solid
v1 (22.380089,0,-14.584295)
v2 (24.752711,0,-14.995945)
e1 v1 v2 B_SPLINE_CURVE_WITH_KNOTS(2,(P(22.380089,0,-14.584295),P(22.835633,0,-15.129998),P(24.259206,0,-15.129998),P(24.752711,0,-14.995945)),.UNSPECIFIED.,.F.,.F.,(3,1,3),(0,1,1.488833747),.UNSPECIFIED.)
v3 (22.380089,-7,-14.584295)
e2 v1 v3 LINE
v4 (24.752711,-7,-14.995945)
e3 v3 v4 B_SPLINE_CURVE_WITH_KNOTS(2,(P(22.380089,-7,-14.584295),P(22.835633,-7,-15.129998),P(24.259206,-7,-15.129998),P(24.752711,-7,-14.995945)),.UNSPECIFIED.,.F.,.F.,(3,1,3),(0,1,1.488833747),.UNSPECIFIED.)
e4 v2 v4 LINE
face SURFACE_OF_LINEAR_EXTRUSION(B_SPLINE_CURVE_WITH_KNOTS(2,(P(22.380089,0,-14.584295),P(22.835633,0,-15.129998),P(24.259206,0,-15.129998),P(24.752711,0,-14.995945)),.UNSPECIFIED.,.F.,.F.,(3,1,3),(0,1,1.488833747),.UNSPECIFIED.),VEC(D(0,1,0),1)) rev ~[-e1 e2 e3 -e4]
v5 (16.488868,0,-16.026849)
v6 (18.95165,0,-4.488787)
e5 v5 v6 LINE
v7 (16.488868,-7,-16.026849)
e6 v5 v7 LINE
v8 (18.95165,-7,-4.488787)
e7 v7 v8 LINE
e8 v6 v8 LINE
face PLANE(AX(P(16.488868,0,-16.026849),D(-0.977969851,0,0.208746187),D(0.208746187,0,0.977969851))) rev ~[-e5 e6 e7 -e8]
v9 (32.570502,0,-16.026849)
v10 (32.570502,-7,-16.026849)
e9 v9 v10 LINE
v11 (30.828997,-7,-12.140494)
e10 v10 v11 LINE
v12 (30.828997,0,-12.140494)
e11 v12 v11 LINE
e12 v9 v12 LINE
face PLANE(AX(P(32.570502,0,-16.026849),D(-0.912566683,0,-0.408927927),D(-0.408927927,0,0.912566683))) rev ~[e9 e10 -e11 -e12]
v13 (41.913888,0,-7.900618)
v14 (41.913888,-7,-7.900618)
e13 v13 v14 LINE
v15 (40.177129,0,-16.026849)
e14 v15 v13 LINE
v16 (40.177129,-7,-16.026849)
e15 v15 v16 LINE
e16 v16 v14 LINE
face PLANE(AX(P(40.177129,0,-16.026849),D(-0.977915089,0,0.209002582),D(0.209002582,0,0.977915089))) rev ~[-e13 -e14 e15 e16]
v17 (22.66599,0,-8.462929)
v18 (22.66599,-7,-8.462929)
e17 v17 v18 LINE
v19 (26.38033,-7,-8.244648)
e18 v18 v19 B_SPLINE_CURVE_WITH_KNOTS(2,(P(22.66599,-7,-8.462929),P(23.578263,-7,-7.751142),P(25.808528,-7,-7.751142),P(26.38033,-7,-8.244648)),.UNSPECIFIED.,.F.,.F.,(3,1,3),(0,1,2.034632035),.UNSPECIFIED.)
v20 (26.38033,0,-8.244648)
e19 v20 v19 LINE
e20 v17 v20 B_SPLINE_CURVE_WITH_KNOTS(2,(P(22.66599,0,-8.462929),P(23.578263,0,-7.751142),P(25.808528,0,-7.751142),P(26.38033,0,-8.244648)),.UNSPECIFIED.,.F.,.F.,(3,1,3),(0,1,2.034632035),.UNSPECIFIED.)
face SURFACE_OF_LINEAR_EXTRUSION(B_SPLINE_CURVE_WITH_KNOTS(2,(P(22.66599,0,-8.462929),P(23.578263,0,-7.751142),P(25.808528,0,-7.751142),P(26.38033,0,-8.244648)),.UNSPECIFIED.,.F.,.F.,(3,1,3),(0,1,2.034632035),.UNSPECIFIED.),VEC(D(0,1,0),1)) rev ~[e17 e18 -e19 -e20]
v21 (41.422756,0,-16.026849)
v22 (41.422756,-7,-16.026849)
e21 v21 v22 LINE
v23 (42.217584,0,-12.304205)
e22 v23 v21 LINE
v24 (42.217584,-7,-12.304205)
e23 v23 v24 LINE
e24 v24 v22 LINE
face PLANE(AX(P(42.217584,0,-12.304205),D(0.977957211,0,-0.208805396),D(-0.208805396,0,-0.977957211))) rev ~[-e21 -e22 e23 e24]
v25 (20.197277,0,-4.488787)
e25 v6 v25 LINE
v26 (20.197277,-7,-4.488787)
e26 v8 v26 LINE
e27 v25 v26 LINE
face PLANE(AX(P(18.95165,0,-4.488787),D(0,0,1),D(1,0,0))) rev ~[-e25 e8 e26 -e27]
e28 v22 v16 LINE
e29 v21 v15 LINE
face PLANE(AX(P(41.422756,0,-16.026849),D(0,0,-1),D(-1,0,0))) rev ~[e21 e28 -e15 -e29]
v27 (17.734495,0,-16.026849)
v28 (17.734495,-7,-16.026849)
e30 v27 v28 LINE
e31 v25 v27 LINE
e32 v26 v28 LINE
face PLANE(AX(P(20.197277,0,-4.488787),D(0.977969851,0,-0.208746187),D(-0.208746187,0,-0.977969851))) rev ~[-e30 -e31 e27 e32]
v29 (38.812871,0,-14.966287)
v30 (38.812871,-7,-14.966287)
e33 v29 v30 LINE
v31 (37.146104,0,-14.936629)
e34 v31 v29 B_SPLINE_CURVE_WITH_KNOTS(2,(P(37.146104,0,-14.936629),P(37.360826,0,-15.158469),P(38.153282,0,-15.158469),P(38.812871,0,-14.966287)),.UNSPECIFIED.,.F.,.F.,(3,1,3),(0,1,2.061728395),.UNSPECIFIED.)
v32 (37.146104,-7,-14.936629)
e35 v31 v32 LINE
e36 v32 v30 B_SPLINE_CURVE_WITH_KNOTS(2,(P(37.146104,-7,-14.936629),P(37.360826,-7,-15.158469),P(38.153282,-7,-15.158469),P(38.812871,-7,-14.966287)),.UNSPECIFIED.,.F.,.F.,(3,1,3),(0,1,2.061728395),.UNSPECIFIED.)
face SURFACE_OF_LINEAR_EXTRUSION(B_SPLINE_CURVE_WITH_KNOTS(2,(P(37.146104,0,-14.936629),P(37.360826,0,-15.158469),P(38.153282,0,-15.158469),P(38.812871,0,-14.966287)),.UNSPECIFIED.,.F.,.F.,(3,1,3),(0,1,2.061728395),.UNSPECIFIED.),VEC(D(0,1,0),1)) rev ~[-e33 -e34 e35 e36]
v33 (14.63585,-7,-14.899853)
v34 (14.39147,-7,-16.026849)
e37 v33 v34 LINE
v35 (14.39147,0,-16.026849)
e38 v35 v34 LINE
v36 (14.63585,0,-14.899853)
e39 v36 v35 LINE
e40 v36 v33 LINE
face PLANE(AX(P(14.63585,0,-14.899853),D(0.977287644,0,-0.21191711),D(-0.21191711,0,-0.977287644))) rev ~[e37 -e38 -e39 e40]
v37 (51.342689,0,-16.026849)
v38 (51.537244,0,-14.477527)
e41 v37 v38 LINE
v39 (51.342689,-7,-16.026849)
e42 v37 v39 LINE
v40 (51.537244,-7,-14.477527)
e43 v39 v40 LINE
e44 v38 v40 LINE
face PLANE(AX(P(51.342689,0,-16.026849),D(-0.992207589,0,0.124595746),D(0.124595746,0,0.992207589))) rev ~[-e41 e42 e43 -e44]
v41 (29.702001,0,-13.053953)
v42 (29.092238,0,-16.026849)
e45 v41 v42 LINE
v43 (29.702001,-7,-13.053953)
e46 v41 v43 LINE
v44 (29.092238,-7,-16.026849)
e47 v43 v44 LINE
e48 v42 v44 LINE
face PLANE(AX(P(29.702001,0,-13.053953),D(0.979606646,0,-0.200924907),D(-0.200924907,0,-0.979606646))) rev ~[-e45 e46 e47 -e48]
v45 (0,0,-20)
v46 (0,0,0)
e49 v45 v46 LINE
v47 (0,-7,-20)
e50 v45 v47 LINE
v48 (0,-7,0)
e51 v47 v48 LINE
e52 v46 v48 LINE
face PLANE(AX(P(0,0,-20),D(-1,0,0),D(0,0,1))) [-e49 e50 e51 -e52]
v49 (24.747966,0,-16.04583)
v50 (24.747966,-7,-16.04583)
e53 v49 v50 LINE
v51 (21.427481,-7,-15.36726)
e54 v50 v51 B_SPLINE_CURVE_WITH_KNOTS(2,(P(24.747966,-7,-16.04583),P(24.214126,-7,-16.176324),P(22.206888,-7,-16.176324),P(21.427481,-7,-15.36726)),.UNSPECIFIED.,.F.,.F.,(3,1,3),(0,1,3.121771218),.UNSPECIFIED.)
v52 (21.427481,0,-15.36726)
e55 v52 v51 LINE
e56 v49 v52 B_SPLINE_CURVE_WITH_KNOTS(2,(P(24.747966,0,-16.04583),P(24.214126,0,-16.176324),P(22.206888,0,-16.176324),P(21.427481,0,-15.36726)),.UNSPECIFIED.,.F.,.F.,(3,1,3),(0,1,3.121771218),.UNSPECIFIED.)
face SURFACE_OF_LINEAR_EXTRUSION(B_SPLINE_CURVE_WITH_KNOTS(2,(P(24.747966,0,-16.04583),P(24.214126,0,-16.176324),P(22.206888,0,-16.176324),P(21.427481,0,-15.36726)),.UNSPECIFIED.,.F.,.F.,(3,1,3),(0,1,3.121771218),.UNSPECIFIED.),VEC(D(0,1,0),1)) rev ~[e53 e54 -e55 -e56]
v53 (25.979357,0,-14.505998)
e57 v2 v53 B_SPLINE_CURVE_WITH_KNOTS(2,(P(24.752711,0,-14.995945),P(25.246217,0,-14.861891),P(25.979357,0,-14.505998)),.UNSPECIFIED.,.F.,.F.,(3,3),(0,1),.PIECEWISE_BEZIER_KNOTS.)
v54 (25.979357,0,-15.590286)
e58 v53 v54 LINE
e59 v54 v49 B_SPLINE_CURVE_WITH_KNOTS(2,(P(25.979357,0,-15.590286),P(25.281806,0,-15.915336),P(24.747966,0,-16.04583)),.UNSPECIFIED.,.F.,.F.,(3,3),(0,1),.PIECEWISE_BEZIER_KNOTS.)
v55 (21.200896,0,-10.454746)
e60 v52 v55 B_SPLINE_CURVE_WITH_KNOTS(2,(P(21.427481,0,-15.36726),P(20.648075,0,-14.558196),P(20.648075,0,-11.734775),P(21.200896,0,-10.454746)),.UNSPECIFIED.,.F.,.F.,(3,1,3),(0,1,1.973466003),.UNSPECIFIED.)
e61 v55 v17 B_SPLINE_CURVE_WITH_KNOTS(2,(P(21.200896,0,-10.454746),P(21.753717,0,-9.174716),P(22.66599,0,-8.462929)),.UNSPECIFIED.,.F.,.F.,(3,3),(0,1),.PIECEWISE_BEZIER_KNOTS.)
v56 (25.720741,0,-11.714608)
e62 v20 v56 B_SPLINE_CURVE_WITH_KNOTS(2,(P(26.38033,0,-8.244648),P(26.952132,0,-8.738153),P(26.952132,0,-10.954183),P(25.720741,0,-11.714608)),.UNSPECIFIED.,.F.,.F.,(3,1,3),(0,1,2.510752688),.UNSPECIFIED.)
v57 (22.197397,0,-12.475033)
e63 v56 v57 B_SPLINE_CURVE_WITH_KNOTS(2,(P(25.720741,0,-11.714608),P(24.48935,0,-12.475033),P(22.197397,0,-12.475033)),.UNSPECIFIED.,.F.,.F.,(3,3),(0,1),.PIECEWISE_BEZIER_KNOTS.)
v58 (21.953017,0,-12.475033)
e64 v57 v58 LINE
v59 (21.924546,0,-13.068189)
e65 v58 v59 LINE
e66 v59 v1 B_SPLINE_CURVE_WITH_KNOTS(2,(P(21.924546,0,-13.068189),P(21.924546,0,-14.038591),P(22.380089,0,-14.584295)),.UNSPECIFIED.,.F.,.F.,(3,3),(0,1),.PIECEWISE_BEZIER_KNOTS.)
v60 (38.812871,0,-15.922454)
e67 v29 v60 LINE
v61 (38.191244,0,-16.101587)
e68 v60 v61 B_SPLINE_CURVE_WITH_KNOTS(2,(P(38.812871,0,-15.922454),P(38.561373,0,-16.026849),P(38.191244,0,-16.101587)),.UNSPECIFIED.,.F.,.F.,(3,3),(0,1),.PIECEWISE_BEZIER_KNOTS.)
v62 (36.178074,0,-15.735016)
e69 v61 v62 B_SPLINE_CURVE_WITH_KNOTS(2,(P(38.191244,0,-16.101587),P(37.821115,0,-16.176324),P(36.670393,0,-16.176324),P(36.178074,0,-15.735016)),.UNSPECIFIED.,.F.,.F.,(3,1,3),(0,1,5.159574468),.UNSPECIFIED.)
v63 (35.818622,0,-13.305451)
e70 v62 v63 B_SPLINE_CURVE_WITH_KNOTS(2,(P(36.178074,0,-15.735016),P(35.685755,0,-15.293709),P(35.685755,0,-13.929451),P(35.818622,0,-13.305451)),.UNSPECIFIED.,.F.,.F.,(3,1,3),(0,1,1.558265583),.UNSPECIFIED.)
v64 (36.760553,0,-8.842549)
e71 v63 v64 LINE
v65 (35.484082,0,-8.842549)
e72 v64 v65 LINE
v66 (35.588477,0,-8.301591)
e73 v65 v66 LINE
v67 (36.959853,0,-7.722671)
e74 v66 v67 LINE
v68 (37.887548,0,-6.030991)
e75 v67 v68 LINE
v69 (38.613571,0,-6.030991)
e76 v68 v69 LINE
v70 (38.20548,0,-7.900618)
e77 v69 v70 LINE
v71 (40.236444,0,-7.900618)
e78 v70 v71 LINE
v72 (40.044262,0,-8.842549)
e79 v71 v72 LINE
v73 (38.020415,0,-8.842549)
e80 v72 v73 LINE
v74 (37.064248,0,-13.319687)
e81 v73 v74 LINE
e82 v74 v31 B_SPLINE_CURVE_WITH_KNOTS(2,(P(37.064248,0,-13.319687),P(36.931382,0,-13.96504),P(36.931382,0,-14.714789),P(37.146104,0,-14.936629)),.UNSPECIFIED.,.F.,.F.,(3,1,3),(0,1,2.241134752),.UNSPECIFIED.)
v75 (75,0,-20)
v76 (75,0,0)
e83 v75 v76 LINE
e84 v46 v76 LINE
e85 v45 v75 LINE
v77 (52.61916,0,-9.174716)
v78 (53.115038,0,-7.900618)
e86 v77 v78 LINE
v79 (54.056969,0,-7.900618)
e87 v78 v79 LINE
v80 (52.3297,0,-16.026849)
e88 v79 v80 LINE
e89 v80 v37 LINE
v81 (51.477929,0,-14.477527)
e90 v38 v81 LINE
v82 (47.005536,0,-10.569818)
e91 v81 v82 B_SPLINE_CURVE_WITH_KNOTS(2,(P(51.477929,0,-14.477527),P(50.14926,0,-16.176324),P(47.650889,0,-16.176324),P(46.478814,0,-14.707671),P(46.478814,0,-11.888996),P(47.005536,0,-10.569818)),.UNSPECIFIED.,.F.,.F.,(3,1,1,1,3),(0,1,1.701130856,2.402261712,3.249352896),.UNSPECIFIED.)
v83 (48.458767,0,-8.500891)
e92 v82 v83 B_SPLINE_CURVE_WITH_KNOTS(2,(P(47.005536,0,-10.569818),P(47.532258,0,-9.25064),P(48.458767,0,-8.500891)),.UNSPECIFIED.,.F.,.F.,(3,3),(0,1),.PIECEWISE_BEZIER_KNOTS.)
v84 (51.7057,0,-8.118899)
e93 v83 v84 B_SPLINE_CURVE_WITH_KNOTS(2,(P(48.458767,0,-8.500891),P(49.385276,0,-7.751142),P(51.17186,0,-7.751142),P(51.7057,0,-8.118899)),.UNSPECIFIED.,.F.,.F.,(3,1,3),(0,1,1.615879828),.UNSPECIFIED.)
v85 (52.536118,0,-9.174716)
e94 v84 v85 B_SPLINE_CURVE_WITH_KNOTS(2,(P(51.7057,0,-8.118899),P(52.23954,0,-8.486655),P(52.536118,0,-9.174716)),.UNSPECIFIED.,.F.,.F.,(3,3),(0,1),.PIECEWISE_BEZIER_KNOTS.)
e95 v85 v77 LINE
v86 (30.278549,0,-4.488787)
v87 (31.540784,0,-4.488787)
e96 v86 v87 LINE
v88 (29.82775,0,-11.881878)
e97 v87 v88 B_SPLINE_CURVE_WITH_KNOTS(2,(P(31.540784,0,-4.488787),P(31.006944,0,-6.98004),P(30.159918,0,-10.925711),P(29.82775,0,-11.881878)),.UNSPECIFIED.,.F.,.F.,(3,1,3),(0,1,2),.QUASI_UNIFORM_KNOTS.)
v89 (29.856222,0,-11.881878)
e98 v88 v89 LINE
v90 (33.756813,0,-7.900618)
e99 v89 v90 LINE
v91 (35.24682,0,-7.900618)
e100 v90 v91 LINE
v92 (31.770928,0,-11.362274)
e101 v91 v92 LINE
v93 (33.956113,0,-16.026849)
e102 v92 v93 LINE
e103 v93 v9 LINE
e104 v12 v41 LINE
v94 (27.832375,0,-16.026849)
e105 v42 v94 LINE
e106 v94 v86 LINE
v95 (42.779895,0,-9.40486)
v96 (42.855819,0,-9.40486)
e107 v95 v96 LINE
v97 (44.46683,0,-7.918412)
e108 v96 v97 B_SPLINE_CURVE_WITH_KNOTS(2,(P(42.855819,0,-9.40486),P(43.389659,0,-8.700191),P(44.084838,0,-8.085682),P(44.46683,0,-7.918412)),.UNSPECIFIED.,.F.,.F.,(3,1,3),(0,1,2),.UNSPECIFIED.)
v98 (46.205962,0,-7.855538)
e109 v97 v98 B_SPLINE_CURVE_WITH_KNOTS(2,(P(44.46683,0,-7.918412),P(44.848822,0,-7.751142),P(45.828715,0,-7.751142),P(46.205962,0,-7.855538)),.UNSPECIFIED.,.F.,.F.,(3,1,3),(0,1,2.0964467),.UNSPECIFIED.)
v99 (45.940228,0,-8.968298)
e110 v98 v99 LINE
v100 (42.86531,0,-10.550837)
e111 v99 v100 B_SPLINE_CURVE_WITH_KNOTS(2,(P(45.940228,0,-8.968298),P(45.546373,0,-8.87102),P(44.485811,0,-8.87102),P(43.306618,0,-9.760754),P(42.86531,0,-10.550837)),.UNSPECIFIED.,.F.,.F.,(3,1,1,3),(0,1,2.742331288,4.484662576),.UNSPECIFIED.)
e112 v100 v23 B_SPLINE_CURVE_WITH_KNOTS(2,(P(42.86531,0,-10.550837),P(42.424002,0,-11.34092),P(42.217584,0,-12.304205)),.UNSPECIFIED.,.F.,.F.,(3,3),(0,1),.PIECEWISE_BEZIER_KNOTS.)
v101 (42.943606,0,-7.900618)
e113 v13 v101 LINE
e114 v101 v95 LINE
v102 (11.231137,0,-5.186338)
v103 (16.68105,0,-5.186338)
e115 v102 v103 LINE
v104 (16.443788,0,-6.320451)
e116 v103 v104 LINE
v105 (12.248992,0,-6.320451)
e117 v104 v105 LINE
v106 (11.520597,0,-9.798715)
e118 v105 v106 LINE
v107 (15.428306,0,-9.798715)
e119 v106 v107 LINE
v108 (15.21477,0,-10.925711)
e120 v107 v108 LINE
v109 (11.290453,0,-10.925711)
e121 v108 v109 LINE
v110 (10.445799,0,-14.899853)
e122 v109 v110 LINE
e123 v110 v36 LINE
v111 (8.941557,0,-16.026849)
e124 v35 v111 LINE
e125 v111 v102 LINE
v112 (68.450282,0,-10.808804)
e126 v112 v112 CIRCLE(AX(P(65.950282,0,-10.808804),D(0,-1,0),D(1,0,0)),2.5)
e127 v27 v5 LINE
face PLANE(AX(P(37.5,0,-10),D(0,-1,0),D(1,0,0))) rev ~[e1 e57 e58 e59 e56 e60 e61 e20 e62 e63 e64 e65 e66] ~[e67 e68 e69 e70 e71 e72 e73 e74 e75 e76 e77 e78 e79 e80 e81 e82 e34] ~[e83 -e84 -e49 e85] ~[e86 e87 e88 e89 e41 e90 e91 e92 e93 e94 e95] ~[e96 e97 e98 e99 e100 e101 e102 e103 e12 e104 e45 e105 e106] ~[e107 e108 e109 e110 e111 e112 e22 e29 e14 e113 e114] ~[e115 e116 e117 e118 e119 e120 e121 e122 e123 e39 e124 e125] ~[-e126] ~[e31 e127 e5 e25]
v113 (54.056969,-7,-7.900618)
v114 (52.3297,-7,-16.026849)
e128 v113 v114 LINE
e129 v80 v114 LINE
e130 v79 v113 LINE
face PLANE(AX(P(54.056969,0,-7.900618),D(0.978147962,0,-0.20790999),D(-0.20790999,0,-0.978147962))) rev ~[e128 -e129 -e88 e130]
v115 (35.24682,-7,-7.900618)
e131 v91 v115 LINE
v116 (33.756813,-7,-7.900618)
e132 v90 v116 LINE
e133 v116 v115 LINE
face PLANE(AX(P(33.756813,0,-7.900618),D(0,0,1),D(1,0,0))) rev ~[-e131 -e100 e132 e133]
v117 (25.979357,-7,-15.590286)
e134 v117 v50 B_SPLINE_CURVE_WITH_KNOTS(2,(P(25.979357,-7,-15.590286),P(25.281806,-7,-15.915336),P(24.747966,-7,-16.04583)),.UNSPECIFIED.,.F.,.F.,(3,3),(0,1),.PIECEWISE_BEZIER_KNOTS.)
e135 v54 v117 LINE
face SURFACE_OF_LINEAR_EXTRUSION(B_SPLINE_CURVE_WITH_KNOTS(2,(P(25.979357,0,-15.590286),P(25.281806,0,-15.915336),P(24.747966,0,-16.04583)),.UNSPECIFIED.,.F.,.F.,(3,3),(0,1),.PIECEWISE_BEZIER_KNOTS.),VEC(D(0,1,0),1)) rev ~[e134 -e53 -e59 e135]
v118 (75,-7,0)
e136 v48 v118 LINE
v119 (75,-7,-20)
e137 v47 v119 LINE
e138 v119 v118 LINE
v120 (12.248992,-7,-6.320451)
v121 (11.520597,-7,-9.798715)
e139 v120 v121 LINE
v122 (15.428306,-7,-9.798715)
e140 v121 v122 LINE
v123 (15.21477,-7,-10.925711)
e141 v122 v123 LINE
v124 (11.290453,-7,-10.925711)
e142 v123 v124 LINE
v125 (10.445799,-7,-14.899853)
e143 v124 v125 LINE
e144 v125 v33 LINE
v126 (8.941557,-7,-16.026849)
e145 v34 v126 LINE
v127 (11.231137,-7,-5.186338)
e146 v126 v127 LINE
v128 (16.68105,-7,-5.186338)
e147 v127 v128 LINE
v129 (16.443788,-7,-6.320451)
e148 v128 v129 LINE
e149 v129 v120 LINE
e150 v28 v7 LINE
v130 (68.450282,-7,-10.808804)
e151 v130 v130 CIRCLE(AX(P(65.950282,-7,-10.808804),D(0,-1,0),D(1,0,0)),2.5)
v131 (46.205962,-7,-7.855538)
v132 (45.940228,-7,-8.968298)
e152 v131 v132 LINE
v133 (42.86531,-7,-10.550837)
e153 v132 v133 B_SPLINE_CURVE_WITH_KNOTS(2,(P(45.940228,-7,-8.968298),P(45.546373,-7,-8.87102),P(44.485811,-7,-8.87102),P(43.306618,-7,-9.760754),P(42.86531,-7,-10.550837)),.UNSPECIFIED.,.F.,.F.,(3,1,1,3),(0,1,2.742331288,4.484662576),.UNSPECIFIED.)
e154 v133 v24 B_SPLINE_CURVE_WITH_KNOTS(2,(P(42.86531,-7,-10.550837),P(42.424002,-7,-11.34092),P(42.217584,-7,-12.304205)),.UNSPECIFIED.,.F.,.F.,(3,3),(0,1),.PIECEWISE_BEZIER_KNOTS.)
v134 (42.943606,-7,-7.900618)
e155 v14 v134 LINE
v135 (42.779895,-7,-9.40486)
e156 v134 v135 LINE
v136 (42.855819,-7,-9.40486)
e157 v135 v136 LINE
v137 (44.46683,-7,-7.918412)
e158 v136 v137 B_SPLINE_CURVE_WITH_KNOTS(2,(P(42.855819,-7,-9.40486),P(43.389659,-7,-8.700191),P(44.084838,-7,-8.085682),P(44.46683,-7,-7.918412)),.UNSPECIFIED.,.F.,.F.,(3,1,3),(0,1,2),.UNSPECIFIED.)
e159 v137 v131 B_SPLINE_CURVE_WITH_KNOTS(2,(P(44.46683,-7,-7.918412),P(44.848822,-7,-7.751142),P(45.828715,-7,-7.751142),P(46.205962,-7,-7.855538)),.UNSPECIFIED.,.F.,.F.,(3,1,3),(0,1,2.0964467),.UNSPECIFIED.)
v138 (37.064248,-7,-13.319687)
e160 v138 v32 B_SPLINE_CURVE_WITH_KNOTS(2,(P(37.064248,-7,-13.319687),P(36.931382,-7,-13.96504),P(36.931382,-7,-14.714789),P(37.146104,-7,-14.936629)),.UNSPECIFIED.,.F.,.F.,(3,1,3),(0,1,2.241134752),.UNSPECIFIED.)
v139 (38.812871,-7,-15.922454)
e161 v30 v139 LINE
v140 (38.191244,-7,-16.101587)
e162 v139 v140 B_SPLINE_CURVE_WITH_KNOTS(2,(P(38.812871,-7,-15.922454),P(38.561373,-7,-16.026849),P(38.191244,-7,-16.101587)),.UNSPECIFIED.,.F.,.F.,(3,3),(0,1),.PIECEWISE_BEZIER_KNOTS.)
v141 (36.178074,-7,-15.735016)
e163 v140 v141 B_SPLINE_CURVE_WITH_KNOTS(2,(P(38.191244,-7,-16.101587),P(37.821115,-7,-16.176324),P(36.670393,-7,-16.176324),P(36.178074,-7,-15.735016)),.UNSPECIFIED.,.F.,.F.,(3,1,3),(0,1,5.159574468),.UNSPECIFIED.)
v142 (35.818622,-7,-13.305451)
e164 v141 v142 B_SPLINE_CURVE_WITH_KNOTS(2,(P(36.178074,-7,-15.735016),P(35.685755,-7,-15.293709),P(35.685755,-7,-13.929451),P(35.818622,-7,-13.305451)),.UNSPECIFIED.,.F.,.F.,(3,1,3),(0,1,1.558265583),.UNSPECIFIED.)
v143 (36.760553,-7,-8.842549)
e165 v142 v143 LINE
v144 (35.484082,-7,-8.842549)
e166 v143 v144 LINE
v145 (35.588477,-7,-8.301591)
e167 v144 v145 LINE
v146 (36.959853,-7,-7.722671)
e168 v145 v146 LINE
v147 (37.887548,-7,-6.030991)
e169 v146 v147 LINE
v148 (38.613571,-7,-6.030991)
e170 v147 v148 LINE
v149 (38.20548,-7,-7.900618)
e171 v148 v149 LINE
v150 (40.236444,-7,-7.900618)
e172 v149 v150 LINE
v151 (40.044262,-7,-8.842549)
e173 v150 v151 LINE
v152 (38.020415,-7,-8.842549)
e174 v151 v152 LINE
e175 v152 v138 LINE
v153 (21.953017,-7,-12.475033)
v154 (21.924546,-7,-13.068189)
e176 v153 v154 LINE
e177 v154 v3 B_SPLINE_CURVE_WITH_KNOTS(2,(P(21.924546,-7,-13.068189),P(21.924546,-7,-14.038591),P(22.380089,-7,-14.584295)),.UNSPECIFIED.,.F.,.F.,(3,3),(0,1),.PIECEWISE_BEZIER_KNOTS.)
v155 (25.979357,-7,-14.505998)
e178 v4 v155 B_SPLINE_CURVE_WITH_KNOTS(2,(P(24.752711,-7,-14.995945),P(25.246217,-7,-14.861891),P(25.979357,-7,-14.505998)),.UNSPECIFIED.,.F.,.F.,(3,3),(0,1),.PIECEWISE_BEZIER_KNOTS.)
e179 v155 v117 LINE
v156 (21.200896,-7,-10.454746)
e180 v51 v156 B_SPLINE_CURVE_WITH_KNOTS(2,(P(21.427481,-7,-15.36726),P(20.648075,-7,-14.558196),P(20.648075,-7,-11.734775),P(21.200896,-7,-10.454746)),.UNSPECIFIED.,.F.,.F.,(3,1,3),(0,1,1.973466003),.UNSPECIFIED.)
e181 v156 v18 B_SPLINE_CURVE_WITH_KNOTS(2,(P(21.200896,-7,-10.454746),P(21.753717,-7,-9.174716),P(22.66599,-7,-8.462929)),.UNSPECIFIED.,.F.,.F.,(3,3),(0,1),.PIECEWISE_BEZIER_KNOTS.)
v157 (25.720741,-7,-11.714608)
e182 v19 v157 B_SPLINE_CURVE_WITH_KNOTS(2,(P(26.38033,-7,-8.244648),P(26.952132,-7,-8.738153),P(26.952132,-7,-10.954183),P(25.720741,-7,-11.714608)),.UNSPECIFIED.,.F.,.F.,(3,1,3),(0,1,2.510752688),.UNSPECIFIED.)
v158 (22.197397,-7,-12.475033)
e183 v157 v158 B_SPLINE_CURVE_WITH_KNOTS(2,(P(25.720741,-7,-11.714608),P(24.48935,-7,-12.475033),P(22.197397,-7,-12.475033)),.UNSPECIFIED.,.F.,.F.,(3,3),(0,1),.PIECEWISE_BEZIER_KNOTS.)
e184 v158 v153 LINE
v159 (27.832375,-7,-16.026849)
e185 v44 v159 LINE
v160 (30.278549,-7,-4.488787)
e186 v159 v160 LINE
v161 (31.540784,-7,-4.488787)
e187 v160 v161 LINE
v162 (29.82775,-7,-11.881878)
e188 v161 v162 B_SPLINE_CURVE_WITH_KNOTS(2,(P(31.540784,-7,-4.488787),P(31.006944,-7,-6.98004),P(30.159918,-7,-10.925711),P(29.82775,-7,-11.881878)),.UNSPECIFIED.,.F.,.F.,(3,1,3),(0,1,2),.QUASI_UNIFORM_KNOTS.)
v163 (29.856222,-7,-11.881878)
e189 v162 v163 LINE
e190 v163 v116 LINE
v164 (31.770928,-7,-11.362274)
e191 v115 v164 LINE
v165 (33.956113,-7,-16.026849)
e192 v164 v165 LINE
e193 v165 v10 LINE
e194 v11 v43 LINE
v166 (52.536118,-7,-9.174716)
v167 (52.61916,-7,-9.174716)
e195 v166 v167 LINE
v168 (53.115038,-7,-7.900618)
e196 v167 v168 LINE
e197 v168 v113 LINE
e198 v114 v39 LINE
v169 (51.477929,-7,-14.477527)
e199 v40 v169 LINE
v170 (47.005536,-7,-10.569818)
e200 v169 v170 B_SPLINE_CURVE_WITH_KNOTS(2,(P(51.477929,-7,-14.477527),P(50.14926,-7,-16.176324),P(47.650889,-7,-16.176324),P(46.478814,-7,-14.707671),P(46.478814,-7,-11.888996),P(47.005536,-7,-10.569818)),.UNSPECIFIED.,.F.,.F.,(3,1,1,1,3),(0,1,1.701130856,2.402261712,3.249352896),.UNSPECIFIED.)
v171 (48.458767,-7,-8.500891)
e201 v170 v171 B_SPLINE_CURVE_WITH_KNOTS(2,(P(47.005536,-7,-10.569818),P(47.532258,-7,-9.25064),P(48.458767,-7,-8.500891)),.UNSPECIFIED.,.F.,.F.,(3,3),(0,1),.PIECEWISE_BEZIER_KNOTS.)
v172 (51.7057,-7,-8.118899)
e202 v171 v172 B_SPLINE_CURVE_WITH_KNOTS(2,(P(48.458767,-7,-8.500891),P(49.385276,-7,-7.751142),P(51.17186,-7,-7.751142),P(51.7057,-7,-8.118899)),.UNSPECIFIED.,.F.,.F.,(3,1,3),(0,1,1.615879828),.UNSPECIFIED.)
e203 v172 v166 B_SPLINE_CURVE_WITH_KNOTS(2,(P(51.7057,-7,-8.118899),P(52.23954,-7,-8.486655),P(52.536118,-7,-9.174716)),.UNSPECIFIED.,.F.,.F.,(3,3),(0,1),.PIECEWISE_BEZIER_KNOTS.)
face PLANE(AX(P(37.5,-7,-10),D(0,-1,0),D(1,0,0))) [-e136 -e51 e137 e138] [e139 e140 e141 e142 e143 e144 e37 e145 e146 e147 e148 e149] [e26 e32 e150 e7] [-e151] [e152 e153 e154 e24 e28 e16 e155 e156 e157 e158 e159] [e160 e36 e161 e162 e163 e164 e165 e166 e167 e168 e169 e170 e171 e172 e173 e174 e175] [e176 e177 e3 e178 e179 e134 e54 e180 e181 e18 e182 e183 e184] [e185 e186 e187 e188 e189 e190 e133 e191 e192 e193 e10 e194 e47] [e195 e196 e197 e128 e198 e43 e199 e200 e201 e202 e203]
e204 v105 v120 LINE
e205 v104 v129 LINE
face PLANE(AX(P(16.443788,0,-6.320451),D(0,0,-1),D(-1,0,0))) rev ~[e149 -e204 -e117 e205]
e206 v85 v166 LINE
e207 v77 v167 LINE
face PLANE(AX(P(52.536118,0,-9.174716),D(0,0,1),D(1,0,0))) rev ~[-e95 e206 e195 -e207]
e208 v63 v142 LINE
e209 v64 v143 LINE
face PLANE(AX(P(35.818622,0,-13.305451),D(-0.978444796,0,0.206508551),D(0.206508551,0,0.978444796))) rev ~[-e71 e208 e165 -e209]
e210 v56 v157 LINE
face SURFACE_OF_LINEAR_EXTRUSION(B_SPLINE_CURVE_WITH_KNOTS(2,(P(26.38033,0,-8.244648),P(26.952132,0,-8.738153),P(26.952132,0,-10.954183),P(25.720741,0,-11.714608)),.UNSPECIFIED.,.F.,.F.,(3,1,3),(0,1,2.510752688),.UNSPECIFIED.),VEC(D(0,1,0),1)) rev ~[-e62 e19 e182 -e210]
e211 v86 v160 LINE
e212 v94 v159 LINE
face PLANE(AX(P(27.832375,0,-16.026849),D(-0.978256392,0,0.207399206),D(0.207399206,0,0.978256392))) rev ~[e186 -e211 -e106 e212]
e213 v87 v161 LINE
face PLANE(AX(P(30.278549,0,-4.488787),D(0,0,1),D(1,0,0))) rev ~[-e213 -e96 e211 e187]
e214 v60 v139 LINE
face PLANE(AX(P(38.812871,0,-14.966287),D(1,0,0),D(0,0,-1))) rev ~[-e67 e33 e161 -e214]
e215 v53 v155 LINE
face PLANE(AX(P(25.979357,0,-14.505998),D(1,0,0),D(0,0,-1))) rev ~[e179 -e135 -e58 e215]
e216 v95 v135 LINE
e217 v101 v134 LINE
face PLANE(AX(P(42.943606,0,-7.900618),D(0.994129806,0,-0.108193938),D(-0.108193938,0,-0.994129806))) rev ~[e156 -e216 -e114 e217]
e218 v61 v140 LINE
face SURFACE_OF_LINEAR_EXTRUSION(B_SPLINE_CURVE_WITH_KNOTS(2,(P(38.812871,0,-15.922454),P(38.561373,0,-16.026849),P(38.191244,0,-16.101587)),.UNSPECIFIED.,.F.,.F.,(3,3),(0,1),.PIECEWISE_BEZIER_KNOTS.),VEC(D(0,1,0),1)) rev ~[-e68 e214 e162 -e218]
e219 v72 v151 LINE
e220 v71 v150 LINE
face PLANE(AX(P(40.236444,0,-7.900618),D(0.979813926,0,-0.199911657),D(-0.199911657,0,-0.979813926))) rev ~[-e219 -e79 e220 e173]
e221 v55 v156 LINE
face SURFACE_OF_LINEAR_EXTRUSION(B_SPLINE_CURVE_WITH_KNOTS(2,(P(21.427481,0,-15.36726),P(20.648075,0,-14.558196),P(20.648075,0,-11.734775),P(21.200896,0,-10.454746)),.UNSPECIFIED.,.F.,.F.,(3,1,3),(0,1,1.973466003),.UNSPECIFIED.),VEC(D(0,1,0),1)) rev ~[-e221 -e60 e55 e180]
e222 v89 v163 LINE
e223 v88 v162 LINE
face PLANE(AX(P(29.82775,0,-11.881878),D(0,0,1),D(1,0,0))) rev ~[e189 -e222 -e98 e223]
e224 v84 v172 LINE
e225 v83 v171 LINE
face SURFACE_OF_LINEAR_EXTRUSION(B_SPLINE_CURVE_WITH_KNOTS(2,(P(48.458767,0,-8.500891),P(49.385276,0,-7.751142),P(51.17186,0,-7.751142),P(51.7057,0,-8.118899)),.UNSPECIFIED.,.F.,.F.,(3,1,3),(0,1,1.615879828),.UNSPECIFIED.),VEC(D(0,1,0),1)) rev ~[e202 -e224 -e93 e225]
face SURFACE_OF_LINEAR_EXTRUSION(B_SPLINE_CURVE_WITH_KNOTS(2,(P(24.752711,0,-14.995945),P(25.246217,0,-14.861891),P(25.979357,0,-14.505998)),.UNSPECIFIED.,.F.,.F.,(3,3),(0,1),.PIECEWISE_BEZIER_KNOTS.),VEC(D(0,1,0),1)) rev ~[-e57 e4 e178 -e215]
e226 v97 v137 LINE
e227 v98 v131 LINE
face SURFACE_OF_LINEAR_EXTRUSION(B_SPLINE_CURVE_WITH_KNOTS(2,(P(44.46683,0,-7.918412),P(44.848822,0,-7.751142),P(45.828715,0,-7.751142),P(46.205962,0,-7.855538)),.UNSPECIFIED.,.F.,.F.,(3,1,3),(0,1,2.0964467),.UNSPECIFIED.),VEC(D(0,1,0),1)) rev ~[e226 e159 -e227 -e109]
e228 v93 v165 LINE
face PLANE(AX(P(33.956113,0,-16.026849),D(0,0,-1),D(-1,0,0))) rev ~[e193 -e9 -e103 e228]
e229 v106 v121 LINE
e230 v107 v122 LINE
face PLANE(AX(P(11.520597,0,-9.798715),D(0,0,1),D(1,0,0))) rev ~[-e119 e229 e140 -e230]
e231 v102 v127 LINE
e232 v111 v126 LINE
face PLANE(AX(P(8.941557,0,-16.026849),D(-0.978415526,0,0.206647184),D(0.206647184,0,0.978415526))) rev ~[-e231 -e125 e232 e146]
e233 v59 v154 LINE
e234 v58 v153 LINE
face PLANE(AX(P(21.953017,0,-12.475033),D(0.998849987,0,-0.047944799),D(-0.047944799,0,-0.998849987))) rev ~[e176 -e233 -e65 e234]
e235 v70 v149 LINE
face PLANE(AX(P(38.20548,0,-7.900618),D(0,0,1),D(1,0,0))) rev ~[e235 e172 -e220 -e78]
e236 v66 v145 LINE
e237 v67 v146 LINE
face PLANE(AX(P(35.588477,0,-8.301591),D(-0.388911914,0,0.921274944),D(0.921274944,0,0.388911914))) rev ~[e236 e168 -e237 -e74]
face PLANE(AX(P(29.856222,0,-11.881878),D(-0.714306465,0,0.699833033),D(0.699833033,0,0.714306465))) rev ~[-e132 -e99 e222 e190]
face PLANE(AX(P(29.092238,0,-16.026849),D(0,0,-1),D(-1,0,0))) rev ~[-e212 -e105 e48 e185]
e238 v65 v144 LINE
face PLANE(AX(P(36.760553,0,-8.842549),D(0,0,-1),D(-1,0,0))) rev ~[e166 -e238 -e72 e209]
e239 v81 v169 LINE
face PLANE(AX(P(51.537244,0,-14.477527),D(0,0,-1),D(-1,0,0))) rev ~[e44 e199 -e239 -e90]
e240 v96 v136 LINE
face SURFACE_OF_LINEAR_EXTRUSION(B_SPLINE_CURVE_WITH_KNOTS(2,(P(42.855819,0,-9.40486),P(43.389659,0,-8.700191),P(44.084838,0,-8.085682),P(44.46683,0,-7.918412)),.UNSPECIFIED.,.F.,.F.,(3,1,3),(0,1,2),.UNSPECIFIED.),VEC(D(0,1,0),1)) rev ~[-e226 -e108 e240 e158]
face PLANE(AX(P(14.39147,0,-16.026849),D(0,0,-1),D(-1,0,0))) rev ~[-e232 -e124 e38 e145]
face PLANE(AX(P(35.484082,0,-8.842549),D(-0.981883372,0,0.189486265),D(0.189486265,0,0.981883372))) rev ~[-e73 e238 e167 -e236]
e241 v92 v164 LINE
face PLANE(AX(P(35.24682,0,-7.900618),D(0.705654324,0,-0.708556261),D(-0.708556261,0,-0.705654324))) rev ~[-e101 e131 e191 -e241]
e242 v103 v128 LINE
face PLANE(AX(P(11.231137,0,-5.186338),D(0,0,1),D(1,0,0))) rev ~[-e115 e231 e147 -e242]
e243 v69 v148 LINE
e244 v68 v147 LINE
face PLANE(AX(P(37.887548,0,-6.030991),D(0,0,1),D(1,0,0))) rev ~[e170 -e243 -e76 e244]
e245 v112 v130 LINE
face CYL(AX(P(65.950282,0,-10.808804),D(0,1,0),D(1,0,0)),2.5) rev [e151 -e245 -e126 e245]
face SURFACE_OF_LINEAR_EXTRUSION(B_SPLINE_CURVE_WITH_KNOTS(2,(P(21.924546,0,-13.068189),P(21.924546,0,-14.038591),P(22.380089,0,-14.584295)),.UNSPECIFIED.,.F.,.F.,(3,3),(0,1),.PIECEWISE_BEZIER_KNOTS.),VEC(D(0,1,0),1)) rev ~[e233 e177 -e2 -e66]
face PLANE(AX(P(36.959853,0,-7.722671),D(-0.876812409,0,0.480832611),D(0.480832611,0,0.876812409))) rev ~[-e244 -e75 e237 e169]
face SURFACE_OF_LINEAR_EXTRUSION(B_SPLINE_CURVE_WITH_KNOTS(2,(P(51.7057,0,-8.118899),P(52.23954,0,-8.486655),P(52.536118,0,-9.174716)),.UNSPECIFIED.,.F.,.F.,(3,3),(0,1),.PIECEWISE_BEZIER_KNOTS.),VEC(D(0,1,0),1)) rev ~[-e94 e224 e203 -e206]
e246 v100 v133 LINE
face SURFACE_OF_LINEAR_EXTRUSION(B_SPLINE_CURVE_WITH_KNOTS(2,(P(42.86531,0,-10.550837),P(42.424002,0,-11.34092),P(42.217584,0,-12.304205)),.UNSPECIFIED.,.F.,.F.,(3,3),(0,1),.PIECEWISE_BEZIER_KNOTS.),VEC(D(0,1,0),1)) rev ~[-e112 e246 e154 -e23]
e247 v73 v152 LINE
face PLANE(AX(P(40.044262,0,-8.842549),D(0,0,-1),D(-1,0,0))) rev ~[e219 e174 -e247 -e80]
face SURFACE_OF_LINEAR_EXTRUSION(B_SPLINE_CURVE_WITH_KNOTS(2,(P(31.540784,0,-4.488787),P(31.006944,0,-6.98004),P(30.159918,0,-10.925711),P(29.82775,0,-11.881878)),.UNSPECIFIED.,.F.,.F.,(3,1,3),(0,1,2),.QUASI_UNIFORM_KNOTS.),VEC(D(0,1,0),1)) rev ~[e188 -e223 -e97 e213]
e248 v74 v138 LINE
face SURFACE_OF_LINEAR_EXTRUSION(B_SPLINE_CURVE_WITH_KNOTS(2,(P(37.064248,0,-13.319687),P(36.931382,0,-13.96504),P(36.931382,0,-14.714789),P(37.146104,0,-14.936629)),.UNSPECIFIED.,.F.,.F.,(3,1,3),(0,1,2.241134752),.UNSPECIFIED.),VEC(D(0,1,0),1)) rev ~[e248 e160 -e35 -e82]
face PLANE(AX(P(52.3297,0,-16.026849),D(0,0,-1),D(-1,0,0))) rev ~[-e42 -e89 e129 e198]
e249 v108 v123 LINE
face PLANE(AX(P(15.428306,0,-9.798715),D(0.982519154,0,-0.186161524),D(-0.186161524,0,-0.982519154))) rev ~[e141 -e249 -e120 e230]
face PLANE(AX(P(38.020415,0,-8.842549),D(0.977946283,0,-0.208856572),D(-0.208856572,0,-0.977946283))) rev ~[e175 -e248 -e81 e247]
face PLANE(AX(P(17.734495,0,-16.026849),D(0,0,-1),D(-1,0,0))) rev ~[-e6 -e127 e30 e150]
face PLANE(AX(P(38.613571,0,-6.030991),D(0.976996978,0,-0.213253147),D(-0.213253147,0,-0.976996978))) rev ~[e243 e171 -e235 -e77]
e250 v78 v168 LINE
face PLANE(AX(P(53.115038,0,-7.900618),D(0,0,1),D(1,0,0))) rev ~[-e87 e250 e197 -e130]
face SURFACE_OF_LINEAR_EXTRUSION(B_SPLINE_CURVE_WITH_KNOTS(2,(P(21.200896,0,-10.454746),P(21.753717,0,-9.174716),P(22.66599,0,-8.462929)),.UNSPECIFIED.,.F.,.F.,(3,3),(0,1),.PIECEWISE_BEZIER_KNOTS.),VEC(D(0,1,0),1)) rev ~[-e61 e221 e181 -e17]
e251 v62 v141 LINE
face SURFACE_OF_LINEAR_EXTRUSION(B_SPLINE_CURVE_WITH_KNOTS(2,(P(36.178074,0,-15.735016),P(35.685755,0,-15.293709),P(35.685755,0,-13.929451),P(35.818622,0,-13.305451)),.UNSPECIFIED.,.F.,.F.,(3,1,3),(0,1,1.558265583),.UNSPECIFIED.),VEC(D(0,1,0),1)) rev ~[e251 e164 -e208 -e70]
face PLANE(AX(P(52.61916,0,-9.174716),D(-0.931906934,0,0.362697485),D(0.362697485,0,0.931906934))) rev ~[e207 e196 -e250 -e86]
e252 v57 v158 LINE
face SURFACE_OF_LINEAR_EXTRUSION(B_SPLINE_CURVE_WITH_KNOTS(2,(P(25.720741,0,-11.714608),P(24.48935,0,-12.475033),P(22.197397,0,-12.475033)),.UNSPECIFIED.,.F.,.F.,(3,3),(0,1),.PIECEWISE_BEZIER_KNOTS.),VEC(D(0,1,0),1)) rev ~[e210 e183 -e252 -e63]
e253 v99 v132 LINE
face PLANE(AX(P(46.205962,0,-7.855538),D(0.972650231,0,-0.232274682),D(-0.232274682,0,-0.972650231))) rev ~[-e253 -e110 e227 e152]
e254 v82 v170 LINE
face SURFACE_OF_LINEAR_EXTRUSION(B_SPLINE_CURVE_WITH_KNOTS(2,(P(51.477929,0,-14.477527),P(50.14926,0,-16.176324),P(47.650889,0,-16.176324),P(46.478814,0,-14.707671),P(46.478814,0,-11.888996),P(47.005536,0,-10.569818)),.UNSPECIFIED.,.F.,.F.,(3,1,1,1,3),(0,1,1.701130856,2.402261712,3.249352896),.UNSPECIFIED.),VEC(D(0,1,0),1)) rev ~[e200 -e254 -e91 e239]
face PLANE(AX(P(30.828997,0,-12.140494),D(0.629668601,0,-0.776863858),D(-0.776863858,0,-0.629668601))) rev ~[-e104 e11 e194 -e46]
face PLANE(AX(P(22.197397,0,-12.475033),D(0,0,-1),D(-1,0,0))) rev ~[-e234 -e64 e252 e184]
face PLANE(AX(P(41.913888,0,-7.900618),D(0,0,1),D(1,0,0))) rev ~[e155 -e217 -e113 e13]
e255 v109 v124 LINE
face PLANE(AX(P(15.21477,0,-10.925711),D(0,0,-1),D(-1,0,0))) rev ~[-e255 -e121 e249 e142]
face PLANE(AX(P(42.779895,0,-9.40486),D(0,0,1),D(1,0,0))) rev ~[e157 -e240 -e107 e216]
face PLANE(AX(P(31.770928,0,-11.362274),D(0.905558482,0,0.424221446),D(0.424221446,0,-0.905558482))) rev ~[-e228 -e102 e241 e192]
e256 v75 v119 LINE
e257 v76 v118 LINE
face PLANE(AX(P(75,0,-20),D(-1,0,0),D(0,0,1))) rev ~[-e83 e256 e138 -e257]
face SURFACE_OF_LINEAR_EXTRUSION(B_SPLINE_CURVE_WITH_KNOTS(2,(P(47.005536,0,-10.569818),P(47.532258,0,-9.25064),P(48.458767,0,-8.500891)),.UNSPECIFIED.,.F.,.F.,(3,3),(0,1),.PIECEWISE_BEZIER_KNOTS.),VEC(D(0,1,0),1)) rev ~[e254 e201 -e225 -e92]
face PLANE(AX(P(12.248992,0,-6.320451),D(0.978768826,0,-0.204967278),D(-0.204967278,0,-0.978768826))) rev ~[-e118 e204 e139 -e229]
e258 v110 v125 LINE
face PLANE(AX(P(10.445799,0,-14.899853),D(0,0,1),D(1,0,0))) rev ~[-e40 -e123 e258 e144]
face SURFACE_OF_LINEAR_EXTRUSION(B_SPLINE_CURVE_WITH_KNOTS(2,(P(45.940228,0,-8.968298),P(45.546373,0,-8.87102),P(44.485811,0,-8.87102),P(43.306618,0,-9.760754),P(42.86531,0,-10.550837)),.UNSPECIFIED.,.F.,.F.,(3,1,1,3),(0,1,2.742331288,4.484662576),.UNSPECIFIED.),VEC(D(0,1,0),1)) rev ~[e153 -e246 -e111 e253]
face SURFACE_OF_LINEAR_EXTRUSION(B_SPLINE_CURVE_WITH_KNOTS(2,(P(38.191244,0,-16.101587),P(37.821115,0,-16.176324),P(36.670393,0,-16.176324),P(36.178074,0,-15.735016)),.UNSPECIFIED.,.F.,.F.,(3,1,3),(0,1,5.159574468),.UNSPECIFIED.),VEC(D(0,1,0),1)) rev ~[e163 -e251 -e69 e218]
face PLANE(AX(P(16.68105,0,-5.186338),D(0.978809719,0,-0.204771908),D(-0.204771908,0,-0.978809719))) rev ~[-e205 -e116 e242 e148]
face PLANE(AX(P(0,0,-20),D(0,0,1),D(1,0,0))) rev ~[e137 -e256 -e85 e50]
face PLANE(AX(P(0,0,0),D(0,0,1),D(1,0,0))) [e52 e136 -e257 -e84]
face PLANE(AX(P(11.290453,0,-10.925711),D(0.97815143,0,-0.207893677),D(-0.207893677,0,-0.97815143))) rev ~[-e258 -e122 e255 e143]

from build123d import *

# Parameters (mm, degrees)
F0_W     = 75
F0_H     = 20
F0_R     = 2.5
F1_DEPTH = 7


with BuildPart() as f1:
    # F0 (on Front) → F1 (new body)
    with BuildSketch(Plane.XZ):
        with Locations((37.5, -10)):
            Rectangle(F0_W, F0_H)
        Polygon((14.6358500468, -14.8998533473), (14.3914699527, -16.0268489271), (8.941556591, -16.0268489271), (11.2311370847, -5.1863377606), (16.6810504464, -5.1863377606), (16.4437882191, -6.3204512072), (12.2489920399, -6.3204512072), (11.520597002, -9.7987154598), (15.4283058861, -9.7987154598), (15.2147698815, -10.9257110396), (11.2904526415, -10.9257110396), (10.4457991123, -14.8998533473), align=None, mode=Mode.SUBTRACT)
        Polygon((20.1972766554, -4.4887868122), (17.7344947357, -16.0268489271), (16.4888680423, -16.0268489271), (18.9516499619, -4.4887868122), align=None, mode=Mode.SUBTRACT)
        with BuildLine():
            add(Edge.make_bspline(
                [(24.7479661755, -16.0458299053), (24.214126164, -16.1763241304), (23.571145528, -16.1763241304)],
                knots=[0, 0, 0, 1, 1, 1], degree=2))
            add(Edge.make_bspline(
                [(23.571145528, -16.1763241304), (22.2068877208, -16.1763241304), (21.4274813041, -15.3672599352)],
                knots=[0, 0, 0, 1, 1, 1], degree=2))
            add(Edge.make_bspline(
                [(21.4274813041, -15.3672599352), (20.6480748873, -14.55819574), (20.6480748873, -13.1275045092)],
                knots=[0, 0, 0, 1, 1, 1], degree=2))
            add(Edge.make_bspline(
                [(20.6480748873, -13.1275045092), (20.6480748873, -11.7347752348), (21.200895877, -10.4547455184)],
                knots=[0, 0, 0, 1, 1, 1], degree=2))
            add(Edge.make_bspline(
                [(21.200895877, -10.4547455184), (21.7537168666, -9.1747158019), (22.6659901307, -8.46292912)],
                knots=[0, 0, 0, 1, 1, 1], degree=2))
            add(Edge.make_bspline(
                [(22.6659901307, -8.46292912), (23.5782633948, -7.751142438), (24.674414885, -7.751142438)],
                knots=[0, 0, 0, 1, 1, 1], degree=2))
            add(Edge.make_bspline(
                [(24.674414885, -7.751142438), (25.8085283317, -7.751142438), (26.3803302995, -8.2446478708)],
                knots=[0, 0, 0, 1, 1, 1], degree=2))
            add(Edge.make_bspline(
                [(26.3803302995, -8.2446478708), (26.9521322674, -8.7381533037), (26.9521322674, -9.6207687893)],
                knots=[0, 0, 0, 1, 1, 1], degree=2))
            add(Edge.make_bspline(
                [(26.9521322674, -9.6207687893), (26.9521322674, -10.9541825069), (25.7207413075, -11.7146079455)],
                knots=[0, 0, 0, 1, 1, 1], degree=2))
            add(Edge.make_bspline(
                [(25.7207413075, -11.7146079455), (24.4893503477, -12.4750333841), (22.1973972317, -12.4750333841)],
                knots=[0, 0, 0, 1, 1, 1], degree=2))
            Line((22.1973972317, -12.4750333841), (21.9530171376, -12.4750333841))
            Line((21.9530171376, -12.4750333841), (21.9245456703, -13.0681889524))
            add(Edge.make_bspline(
                [(21.9245456703, -13.0681889524), (21.9245456703, -14.0385914621), (22.3800891468, -14.584294585)],
                knots=[0, 0, 0, 1, 1, 1], degree=2))
            add(Edge.make_bspline(
                [(22.3800891468, -14.584294585), (22.8356326233, -15.1299977078), (23.7917993994, -15.1299977078)],
                knots=[0, 0, 0, 1, 1, 1], degree=2))
            add(Edge.make_bspline(
                [(23.7917993994, -15.1299977078), (24.2592059872, -15.1299977078), (24.7527114201, -14.9959445494)],
                knots=[0, 0, 0, 1, 1, 1], degree=2))
            add(Edge.make_bspline(
                [(24.7527114201, -14.9959445494), (25.2462168529, -14.861891391), (25.9793571353, -14.50599805)],
                knots=[0, 0, 0, 1, 1, 1], degree=2))
            Line((25.9793571353, -14.50599805), (25.9793571353, -15.5902864289))
            add(Edge.make_bspline(
                [(25.9793571353, -15.5902864289), (25.281806187, -15.9153356803), (24.7479661755, -16.0458299053)],
                knots=[0, 0, 0, 1, 1, 1], degree=2))
        make_face(mode=Mode.SUBTRACT)
        with BuildLine():
            Line((29.8277504626, -11.8818778157), (29.8562219299, -11.8818778157))
            Line((29.8562219299, -11.8818778157), (33.7568129471, -7.9006176412))
            Line((33.7568129471, -7.9006176412), (35.2468197347, -7.9006176412))
            Line((35.2468197347, -7.9006176412), (31.7709281044, -11.3622735379))
            Line((31.7709281044, -11.3622735379), (33.9561132181, -16.0268489271))
            Line((33.9561132181, -16.0268489271), (32.5705018105, -16.0268489271))
            Line((32.5705018105, -16.0268489271), (30.8289970619, -12.1404936435))
            Line((30.8289970619, -12.1404936435), (29.7020014821, -13.0539532187))
            Line((29.7020014821, -13.0539532187), (29.0922375579, -16.0268489271))
            Line((29.0922375579, -16.0268489271), (27.8323751308, -16.0268489271))
            Line((27.8323751308, -16.0268489271), (30.2785486945, -4.4887868122))
            Line((30.2785486945, -4.4887868122), (31.5407837439, -4.4887868122))
            add(Edge.make_bspline(
                [(31.5407837439, -4.4887868122), (31.0069437324, -6.9800401992), (30.5834306566, -8.9528756194)],
                knots=[0, 0, 0, 1, 1, 1], degree=2))
            add(Edge.make_bspline(
                [(30.5834306566, -8.9528756194), (30.1599175808, -10.9257110396), (29.8277504626, -11.8818778157)],
                knots=[0, 0, 0, 1, 1, 1], degree=2))
        make_face(mode=Mode.SUBTRACT)
        with BuildLine():
            add(Edge.make_bspline(
                [(44.4668298886, -7.9184123082), (44.8488220746, -7.751142438), (45.3162286625, -7.751142438)],
                knots=[0, 0, 0, 1, 1, 1], degree=2))
            add(Edge.make_bspline(
                [(45.3162286625, -7.751142438), (45.8287150735, -7.751142438), (46.2059620149, -7.855537818)],
                knots=[0, 0, 0, 1, 1, 1], degree=2))
            Line((46.2059620149, -7.855537818), (45.9402283203, -8.9682976642))
            add(Edge.make_bspline(
                [(45.9402283203, -8.9682976642), (45.546373023, -8.871020151), (45.1596355924, -8.871020151)],
                knots=[0, 0, 0, 1, 1, 1], degree=2))
            add(Edge.make_bspline(
                [(45.1596355924, -8.871020151), (44.4858108668, -8.871020151), (43.8962142319, -9.3158868272)],
                knots=[0, 0, 0, 1, 1, 1], degree=2))
            add(Edge.make_bspline(
                [(43.8962142319, -9.3158868272), (43.306617597, -9.7607535034), (42.8653098542, -10.5508367204)],
                knots=[0, 0, 0, 1, 1, 1], degree=2))
            add(Edge.make_bspline(
                [(42.8653098542, -10.5508367204), (42.4240021113, -11.3409199374), (42.2175839736, -12.3042045804)],
                knots=[0, 0, 0, 1, 1, 1], degree=2))
            Line((42.2175839736, -12.3042045804), (41.422755512, -16.0268489271))
            Line((41.422755512, -16.0268489271), (40.1771288186, -16.0268489271))
            Line((40.1771288186, -16.0268489271), (41.9138883226, -7.9006176412))
            Line((41.9138883226, -7.9006176412), (42.9436063892, -7.9006176412))
            Line((42.9436063892, -7.9006176412), (42.7798954523, -9.4048601625))
            Line((42.7798954523, -9.4048601625), (42.8558193651, -9.4048601625))
            add(Edge.make_bspline(
                [(42.8558193651, -9.4048601625), (43.3896593766, -8.7001913473), (43.7372485396, -8.3929367629)],
                knots=[0, 0, 0, 1, 1, 1], degree=2))
            add(Edge.make_bspline(
                [(43.7372485396, -8.3929367629), (44.0848377026, -8.0856821785), (44.4668298886, -7.9184123082)],
                knots=[0, 0, 0, 1, 1, 1], degree=2))
        make_face(mode=Mode.SUBTRACT)
        with BuildLine():
            add(Edge.make_bspline(
                [(37.1461038645, -14.9366289926), (37.3608261802, -15.1584691751), (37.7451909885, -15.1584691751)],
                knots=[0, 0, 0, 1, 1, 1], degree=2))
            add(Edge.make_bspline(
                [(37.7451909885, -15.1584691751), (38.1532820195, -15.1584691751), (38.8128710114, -14.966286771)],
                knots=[0, 0, 0, 1, 1, 1], degree=2))
            Line((38.8128710114, -14.966286771), (38.8128710114, -15.9224535471))
            add(Edge.make_bspline(
                [(38.8128710114, -15.9224535471), (38.5613730505, -16.0268489271), (38.1912439758, -16.1015865287)],
                knots=[0, 0, 0, 1, 1, 1], degree=2))
            add(Edge.make_bspline(
                [(38.1912439758, -16.1015865287), (37.8211149012, -16.1763241304), (37.5980884075, -16.1763241304)],
                knots=[0, 0, 0, 1, 1, 1], degree=2))
            add(Edge.make_bspline(
                [(37.5980884075, -16.1763241304), (36.6703930987, -16.1763241304), (36.178073977, -15.7350163875)],
                knots=[0, 0, 0, 1, 1, 1], degree=2))
            add(Edge.make_bspline(
                [(36.178073977, -15.7350163875), (35.6857548553, -15.2937086447), (35.6857548553, -14.4182110259)],
                knots=[0, 0, 0, 1, 1, 1], degree=2))
            add(Edge.make_bspline(
                [(35.6857548553, -14.4182110259), (35.6857548553, -13.9294508376), (35.8186217026, -13.3054511797)],
                knots=[0, 0, 0, 1, 1, 1], degree=2))
            Line((35.8186217026, -13.3054511797), (36.7605527451, -8.8425486837))
            Line((36.7605527451, -8.8425486837), (35.484081962, -8.8425486837))
            Line((35.484081962, -8.8425486837), (35.5884773421, -8.3015908054))
            Line((35.5884773421, -8.3015908054), (36.959853016, -7.7226709707))
            Line((36.959853016, -7.7226709707), (37.8875483249, -6.0309912899))
            Line((37.8875483249, -6.0309912899), (38.6135707405, -6.0309912899))
            Line((38.6135707405, -6.0309912899), (38.2054797095, -7.9006176412))
            Line((38.2054797095, -7.9006176412), (40.2364443754, -7.9006176412))
            Line((40.2364443754, -7.9006176412), (40.0442619713, -8.8425486837))
            Line((40.0442619713, -8.8425486837), (38.0204151722, -8.8425486837))
            Line((38.0204151722, -8.8425486837), (37.064248396, -13.3196869133))
            add(Edge.make_bspline(
                [(37.064248396, -13.3196869133), (36.9313815487, -13.9650401717), (36.9313815487, -14.2995799122)],
                knots=[0, 0, 0, 1, 1, 1], degree=2))
            add(Edge.make_bspline(
                [(36.9313815487, -14.2995799122), (36.9313815487, -14.71478881), (37.1461038645, -14.9366289926)],
                knots=[0, 0, 0, 1, 1, 1], degree=2))
        make_face(mode=Mode.SUBTRACT)
        with BuildLine():
            add(Edge.make_bspline(
                [(48.4587668634, -8.5008910763), (49.3852758611, -7.751142438), (50.4909178405, -7.751142438)],
                knots=[0, 0, 0, 1, 1, 1], degree=2))
            add(Edge.make_bspline(
                [(50.4909178405, -7.751142438), (51.1718604329, -7.751142438), (51.7057004444, -8.1188988903)],
                knots=[0, 0, 0, 1, 1, 1], degree=2))
            add(Edge.make_bspline(
                [(51.7057004444, -8.1188988903), (52.2395404559, -8.4866553427), (52.53611824, -9.1747158019)],
                knots=[0, 0, 0, 1, 1, 1], degree=2))
            Line((52.53611824, -9.1747158019), (52.6191600196, -9.1747158019))
            Line((52.6191600196, -9.1747158019), (53.1150380747, -7.9006176412))
            Line((53.1150380747, -7.9006176412), (54.0569691172, -7.9006176412))
            Line((54.0569691172, -7.9006176412), (52.3297001022, -16.0268489271))
            Line((52.3297001022, -16.0268489271), (51.3426892366, -16.0268489271))
            Line((51.3426892366, -16.0268489271), (51.537244263, -14.4775265827))
            Line((51.537244263, -14.4775265827), (51.4779287061, -14.4775265827))
            add(Edge.make_bspline(
                [(51.4779287061, -14.4775265827), (50.1492602331, -16.1763241304), (48.680607046, -16.1763241304)],
                knots=[0, 0, 0, 1, 1, 1], degree=2))
            add(Edge.make_bspline(
                [(48.680607046, -16.1763241304), (47.6508889794, -16.1763241304), (47.0648512779, -15.4419975368)],
                knots=[0, 0, 0, 1, 1, 1], degree=2))
            add(Edge.make_bspline(
                [(47.0648512779, -15.4419975368), (46.4788135764, -14.7076709432), (46.4788135764, -13.4312001602)],
                knots=[0, 0, 0, 1, 1, 1], degree=2))
            add(Edge.make_bspline(
                [(46.4788135764, -13.4312001602), (46.4788135764, -11.8889956826), (47.005535721, -10.5698176986)],
                knots=[0, 0, 0, 1, 1, 1], degree=2))
            add(Edge.make_bspline(
                [(47.005535721, -10.5698176986), (47.5322578657, -9.2506397147), (48.4587668634, -8.5008910763)],
                knots=[0, 0, 0, 1, 1, 1], degree=2))
        make_face(mode=Mode.SUBTRACT)
        with Locations((65.950281918, -10.8088040724)):
            Circle(F0_R, mode=Mode.SUBTRACT)
    extrude(amount=F1_DEPTH)


solid = f1.part
